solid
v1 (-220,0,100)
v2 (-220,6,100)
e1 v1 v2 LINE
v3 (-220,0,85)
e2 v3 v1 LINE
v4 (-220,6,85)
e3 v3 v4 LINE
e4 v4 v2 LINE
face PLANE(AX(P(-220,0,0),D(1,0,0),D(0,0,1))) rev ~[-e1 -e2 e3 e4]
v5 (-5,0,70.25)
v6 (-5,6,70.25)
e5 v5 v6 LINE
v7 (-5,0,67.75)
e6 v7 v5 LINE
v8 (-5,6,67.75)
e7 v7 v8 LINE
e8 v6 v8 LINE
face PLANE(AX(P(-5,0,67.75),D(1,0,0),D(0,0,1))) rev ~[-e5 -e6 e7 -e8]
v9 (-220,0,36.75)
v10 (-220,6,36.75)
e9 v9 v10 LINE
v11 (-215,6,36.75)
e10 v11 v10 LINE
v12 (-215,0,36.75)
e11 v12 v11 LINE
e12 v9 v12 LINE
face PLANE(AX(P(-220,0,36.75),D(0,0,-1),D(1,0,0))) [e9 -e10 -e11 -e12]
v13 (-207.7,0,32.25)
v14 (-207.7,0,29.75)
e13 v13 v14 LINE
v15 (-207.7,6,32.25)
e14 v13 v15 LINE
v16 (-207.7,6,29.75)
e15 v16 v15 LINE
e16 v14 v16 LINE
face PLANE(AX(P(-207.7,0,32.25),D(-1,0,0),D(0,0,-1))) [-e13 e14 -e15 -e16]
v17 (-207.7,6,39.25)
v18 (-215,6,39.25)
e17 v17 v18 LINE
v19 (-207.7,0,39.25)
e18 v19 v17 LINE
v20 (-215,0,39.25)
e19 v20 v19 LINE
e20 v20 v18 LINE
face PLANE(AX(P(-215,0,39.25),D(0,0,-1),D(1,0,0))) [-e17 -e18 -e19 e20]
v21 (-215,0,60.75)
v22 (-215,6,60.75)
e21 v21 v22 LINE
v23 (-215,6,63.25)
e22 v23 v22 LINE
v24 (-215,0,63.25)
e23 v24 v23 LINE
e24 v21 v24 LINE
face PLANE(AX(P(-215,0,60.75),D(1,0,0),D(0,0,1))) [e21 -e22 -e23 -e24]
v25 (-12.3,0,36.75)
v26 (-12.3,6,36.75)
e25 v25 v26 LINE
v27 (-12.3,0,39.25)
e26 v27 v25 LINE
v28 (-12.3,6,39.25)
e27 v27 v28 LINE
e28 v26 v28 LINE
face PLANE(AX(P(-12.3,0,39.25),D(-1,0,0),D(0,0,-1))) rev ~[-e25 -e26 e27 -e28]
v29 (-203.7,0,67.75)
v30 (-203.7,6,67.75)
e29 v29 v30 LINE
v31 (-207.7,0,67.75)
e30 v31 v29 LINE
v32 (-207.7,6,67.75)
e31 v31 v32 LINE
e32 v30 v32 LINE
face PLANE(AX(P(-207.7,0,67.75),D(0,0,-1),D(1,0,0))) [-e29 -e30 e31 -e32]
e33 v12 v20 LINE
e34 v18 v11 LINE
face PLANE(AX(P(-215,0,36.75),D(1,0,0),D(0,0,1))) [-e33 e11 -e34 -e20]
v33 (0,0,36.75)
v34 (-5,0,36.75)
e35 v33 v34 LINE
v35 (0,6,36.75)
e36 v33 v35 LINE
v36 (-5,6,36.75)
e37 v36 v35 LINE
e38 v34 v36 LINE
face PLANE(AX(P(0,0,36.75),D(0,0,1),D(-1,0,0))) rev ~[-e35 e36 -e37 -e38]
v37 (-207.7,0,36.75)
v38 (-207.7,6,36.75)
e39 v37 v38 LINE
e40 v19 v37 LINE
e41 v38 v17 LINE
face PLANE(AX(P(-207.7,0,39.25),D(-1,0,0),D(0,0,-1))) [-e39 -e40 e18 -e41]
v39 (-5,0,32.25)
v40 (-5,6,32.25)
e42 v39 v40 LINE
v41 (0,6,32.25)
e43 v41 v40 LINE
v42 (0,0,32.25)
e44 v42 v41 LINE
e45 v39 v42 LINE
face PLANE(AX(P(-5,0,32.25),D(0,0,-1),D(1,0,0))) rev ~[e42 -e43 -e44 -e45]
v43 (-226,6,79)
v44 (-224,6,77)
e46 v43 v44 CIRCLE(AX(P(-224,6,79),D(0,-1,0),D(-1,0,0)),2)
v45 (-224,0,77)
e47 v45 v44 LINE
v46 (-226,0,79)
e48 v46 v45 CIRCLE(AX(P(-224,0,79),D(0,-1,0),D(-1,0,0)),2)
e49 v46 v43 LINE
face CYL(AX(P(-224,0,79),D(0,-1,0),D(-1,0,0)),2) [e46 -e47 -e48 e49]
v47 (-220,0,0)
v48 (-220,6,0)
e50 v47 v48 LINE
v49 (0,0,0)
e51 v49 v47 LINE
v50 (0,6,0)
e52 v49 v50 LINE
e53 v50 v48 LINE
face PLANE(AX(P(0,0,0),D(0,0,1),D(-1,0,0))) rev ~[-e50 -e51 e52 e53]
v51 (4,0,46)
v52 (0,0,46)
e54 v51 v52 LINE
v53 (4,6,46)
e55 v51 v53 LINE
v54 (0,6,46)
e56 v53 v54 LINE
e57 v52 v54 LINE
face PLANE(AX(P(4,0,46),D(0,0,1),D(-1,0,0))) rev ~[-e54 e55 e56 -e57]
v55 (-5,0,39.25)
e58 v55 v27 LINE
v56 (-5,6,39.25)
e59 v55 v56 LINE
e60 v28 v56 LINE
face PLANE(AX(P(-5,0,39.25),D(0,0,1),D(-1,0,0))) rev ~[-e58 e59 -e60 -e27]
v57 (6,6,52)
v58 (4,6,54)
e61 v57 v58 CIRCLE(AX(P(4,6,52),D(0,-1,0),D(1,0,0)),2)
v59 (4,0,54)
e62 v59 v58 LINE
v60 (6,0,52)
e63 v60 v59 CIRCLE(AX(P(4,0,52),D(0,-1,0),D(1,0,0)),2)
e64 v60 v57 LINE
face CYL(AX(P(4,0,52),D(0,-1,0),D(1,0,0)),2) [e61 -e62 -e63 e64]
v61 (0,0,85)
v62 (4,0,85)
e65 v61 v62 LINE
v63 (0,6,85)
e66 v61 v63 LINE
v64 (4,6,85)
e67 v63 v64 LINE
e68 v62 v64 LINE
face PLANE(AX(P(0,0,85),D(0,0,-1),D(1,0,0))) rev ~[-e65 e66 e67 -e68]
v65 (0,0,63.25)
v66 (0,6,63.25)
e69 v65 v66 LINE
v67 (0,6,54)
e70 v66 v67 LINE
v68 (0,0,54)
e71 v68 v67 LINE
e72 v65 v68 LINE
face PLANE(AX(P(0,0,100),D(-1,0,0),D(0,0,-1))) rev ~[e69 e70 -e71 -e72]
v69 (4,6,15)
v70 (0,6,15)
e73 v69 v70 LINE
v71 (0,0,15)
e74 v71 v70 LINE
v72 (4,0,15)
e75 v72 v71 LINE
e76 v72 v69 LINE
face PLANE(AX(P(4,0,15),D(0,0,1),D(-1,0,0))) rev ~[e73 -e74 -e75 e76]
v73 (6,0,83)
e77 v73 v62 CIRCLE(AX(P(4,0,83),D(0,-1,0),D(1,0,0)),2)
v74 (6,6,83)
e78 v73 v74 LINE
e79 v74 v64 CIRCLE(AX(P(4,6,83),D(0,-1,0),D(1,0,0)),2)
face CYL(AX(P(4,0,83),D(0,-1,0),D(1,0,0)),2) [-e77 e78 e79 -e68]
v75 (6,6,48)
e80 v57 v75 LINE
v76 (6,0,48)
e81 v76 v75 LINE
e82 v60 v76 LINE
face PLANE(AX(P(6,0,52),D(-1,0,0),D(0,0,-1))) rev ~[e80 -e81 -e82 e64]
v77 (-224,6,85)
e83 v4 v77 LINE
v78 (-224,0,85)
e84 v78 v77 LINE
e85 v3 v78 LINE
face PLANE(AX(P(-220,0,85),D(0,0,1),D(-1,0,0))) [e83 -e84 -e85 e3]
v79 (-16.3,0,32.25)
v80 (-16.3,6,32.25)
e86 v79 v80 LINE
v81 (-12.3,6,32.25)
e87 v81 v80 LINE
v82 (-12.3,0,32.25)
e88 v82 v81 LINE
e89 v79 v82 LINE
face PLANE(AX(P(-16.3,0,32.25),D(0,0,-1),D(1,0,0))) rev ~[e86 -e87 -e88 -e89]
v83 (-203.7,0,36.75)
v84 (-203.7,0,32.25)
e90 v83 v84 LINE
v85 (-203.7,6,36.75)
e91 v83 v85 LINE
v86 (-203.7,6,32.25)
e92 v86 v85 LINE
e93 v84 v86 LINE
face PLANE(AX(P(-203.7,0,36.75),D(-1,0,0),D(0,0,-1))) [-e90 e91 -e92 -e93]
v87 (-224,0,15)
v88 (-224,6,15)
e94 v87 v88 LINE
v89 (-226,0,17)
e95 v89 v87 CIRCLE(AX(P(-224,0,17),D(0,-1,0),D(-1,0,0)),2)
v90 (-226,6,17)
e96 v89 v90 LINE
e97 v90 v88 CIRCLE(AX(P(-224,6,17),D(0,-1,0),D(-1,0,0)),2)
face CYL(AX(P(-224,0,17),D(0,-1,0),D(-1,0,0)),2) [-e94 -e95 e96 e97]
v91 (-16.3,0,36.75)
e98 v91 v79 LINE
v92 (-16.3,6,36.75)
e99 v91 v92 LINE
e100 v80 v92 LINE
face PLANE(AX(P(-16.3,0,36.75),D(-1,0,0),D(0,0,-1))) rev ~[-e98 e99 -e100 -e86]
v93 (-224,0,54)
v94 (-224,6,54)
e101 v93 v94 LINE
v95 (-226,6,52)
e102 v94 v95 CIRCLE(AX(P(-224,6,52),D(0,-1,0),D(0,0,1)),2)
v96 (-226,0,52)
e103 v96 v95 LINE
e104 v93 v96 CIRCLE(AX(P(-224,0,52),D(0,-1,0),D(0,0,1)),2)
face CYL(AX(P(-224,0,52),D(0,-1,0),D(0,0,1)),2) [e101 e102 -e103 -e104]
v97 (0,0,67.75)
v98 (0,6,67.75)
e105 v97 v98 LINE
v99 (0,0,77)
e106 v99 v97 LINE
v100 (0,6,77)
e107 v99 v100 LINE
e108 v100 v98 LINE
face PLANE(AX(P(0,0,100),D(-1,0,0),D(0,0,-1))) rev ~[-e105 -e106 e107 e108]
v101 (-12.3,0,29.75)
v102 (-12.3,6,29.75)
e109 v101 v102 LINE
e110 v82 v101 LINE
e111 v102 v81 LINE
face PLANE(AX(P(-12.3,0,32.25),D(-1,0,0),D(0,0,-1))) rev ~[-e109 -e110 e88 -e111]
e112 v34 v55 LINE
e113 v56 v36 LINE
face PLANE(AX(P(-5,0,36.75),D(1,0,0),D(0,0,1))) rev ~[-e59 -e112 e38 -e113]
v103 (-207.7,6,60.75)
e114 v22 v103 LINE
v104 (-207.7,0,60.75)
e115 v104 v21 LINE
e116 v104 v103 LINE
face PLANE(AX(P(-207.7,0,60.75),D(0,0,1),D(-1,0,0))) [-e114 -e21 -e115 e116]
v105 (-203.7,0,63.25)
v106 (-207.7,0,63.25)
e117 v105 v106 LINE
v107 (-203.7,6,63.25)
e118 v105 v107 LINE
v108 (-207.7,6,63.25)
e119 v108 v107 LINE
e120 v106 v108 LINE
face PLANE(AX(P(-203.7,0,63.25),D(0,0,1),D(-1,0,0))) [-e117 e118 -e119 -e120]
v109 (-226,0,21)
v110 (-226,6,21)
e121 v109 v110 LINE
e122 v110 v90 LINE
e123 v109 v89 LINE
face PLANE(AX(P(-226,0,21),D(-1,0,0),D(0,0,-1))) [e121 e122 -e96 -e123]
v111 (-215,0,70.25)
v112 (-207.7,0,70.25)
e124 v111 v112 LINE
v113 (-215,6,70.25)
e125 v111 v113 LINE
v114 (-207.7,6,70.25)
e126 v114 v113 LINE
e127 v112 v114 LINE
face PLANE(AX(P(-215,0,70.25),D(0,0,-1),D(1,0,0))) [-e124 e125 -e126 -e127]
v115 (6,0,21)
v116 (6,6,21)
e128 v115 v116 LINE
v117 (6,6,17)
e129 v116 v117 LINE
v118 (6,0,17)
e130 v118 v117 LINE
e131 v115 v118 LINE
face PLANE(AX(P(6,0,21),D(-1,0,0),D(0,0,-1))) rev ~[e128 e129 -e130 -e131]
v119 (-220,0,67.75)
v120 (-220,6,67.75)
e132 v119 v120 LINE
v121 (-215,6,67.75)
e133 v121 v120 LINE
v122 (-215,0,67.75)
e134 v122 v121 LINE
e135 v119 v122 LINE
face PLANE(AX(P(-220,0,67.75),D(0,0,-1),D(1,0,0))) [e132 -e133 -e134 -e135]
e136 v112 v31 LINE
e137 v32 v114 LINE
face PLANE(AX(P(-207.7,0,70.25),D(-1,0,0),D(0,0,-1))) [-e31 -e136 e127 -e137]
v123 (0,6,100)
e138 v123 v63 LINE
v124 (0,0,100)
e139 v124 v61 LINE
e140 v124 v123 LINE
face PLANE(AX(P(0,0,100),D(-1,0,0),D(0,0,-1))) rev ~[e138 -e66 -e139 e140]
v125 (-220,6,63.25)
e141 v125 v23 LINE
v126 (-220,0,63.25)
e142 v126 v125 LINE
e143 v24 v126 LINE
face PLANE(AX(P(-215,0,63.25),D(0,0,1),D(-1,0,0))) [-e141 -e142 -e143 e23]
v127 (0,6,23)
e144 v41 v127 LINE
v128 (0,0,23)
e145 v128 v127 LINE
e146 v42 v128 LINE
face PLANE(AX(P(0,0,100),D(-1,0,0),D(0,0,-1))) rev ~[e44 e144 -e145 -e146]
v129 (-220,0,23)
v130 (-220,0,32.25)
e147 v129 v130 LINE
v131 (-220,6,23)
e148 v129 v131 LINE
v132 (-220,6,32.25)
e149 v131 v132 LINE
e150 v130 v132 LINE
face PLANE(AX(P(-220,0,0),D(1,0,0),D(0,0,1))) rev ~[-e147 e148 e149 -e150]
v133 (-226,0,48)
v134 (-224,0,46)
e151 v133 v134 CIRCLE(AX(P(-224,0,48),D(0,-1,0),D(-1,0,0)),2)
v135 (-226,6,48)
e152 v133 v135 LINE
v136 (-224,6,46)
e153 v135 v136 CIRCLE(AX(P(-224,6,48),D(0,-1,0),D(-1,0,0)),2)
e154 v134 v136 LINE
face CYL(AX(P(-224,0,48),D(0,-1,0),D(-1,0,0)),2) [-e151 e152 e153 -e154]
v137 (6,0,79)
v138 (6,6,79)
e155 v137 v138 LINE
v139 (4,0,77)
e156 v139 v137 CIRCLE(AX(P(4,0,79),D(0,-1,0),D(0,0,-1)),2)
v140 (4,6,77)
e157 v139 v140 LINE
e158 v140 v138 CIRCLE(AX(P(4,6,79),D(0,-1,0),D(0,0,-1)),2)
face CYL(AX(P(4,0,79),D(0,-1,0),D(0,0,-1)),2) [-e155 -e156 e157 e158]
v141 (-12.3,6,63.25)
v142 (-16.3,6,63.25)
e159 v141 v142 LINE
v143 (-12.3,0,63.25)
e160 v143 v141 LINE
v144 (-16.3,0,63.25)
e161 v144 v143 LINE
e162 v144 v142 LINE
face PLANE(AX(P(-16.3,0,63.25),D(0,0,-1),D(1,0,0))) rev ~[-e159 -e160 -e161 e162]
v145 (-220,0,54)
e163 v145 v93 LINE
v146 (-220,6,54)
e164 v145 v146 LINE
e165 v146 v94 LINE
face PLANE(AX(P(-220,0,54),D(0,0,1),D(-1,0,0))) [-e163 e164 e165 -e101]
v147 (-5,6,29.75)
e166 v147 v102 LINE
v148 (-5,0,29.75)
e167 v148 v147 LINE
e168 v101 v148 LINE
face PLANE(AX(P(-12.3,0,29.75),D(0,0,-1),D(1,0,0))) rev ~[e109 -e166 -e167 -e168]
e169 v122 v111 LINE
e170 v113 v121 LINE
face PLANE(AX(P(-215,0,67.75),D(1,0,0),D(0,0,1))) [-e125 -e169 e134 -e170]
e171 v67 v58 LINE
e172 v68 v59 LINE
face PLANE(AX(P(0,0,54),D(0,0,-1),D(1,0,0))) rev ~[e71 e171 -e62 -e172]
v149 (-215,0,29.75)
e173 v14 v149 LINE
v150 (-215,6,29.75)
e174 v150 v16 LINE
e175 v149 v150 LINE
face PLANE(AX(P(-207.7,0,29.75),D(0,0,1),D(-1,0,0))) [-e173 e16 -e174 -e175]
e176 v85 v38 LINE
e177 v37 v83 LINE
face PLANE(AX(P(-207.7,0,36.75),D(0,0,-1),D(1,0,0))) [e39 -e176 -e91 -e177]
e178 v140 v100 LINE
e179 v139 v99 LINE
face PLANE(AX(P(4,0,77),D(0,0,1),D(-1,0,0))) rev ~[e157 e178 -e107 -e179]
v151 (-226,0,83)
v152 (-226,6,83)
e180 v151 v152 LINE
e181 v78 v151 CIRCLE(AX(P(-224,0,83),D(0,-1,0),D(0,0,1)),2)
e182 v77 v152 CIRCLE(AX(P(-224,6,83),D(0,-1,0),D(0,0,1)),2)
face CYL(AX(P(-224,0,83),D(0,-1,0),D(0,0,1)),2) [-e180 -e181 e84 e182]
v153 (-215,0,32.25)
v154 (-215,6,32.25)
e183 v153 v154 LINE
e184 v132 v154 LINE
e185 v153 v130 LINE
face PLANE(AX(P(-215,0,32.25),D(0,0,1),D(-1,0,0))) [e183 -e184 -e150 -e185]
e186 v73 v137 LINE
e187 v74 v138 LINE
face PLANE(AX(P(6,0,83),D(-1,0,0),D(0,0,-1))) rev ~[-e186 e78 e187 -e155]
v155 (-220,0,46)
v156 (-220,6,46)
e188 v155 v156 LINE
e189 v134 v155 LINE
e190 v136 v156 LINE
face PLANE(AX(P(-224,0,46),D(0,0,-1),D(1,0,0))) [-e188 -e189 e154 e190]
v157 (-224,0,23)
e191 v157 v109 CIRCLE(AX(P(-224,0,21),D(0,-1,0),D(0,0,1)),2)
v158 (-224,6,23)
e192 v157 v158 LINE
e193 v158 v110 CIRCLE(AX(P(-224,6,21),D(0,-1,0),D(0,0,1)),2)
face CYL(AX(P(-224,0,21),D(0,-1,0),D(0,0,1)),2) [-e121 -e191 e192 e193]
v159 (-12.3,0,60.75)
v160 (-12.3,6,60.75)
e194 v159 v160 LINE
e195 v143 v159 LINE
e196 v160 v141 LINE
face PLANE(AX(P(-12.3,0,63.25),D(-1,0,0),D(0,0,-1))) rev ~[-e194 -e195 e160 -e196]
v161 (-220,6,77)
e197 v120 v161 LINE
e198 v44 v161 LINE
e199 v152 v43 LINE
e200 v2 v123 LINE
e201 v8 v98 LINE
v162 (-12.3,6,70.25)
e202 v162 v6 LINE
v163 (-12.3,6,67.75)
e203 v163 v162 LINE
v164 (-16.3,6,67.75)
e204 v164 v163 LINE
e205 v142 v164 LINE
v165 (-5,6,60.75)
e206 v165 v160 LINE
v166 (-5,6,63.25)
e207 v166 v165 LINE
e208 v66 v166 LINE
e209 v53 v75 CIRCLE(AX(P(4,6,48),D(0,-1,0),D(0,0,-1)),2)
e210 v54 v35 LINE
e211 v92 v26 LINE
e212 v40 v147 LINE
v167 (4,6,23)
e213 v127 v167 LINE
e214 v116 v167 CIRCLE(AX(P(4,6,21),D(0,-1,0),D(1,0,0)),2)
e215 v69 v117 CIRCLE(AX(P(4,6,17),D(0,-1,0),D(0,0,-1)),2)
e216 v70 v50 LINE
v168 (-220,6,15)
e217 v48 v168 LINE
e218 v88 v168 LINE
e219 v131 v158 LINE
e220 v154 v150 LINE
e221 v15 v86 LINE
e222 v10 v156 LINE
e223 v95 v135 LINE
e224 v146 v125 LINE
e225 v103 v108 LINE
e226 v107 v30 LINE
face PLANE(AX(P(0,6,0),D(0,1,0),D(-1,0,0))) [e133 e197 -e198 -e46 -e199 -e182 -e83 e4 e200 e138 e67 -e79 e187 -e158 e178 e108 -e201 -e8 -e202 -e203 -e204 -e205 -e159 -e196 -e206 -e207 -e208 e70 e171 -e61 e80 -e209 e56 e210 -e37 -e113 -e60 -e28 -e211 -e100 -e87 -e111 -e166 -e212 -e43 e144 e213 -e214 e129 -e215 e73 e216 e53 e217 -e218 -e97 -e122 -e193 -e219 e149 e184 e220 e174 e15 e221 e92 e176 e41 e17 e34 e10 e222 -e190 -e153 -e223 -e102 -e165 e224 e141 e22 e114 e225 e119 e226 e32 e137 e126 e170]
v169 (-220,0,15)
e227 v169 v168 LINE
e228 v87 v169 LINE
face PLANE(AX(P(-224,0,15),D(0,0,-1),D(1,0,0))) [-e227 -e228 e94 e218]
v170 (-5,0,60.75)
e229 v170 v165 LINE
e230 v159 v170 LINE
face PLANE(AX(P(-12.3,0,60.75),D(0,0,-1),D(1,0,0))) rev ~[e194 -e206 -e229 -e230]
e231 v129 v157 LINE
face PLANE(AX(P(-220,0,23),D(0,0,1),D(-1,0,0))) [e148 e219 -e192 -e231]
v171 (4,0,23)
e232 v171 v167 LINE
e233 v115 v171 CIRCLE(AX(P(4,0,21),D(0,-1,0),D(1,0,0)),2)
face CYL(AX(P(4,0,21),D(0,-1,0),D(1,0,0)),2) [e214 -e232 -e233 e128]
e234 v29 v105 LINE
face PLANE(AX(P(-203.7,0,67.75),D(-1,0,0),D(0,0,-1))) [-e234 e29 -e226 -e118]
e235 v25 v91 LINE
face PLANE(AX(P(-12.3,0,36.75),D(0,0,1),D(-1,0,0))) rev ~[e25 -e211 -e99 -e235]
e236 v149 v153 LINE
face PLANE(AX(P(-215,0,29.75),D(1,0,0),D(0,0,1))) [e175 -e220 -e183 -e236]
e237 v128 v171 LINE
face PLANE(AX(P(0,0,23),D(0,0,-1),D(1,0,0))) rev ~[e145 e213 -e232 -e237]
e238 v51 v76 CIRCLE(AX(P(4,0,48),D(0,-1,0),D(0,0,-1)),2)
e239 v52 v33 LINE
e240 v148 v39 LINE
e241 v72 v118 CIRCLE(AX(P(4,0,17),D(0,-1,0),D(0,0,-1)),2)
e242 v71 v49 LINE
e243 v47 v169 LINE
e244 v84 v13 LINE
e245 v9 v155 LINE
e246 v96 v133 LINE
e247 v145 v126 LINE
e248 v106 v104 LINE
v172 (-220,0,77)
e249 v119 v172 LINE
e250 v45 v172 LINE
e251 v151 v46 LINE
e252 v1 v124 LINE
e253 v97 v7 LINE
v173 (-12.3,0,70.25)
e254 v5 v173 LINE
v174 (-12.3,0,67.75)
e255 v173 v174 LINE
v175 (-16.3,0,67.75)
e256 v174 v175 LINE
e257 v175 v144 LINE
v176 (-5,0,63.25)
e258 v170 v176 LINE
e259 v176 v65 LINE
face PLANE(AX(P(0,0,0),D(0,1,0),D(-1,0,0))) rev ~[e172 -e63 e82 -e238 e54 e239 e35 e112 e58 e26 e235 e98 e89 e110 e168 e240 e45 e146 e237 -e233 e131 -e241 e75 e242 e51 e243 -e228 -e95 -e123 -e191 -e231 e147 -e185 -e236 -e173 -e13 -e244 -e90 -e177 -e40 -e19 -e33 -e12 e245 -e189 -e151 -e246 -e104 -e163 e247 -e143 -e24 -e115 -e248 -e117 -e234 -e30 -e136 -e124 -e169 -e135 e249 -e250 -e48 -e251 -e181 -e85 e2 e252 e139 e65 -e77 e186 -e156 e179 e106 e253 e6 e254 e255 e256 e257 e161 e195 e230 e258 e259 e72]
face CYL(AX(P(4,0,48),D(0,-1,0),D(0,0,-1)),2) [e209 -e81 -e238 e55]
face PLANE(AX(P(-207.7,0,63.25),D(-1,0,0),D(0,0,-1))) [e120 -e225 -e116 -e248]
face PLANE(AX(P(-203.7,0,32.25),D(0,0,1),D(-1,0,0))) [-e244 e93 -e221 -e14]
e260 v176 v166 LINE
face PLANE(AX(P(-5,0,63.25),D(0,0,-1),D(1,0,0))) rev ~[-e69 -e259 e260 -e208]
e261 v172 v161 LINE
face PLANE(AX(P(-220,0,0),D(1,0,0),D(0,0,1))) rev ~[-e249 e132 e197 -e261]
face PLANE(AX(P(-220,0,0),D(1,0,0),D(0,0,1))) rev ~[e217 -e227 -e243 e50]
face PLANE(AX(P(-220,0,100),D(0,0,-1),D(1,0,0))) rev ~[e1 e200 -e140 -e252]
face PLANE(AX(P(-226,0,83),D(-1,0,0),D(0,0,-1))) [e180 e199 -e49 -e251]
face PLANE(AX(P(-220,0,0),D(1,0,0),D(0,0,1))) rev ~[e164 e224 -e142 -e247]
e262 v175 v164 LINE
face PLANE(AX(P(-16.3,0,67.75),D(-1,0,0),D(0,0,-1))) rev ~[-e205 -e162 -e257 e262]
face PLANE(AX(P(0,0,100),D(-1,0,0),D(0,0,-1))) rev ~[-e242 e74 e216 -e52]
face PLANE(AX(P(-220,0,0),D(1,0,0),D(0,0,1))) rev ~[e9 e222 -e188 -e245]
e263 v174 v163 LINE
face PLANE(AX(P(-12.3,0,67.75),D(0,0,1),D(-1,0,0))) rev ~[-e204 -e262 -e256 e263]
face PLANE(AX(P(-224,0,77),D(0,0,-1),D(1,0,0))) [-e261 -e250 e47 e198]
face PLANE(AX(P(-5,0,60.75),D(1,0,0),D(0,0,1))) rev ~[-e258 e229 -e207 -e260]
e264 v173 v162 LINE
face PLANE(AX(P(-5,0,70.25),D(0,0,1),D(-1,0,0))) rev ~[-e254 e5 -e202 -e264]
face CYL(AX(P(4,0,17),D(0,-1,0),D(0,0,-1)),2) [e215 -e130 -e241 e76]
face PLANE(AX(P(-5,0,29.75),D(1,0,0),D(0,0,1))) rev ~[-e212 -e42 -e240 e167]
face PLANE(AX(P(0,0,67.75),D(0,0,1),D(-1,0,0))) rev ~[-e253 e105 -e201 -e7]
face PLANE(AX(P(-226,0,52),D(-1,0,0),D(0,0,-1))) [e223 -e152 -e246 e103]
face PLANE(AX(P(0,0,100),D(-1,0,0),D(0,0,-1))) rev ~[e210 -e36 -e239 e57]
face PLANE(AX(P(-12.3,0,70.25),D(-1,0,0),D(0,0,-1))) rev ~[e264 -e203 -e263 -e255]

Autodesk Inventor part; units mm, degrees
ref_plane "YZ Plane" through (0, 0, 0) normal (1, 0, 0) x (0, 1, 0)
ref_plane "XZ Plane" through (0, 0, 0) normal (0, 1, 0) x (-1, 0, 0)
ref_plane "XY Plane" through (0, 0, 0) normal (0, 0, 1) x (1, 0, 0)
sketch "Sketch1" plane through (0, 0, 0) normal (0, 1, 0) x (-1, 0, 0)
  line L0 (0, 0) -> (220, 0)
  line L1 (220, 0) -> (220, 100)
  line L2 (220, 100) -> (0, 100)
  line L3 (0, 100) -> (0, 0)
  dimension "d11" = 220
  dimension "d16" = 100
extrude "Extrusion3" add sketch "Sketch1" along normal blind 6
sketch "Sketch3" plane through (0, 0, 0) normal (0, -1, 0) x (1, 0, 0)
  line L0 (0, 100) -> (0, 0) projected
  line L1 (-220, 0) -> (-220, 100) projected
  line L2 (-220, 85) -> (-224, 85)
  line L3 (-226, 83) -> (-226, 79)
  line L4 (-224, 77) -> (-220, 77)
  line L5 (-220, 77) -> (-220, 85)
  line L6 (-220, 54) -> (-224, 54)
  line L7 (-226, 52) -> (-226, 48)
  line L8 (-224, 46) -> (-220, 46)
  line L9 (-220, 46) -> (-220, 54)
  line L10 (-220, 23) -> (-224, 23)
  line L11 (-226, 21) -> (-226, 17)
  line L12 (-224, 15) -> (-220, 15)
  line L13 (-220, 15) -> (-220, 23)
  line L14 (0, 85) -> (4, 85)
  line L15 (6, 83) -> (6, 79)
  line L16 (4, 77) -> (0, 77)
  line L17 (0, 77) -> (0, 85)
  line L18 (0, 54) -> (4, 54)
  line L19 (6, 52) -> (6, 48)
  line L20 (4, 46) -> (0, 46)
  line L21 (0, 46) -> (0, 54)
  line L22 (0, 23) -> (4, 23)
  line L23 (6, 21) -> (6, 17)
  line L24 (4, 15) -> (0, 15)
  line L25 (0, 15) -> (0, 23)
  arc A0 (-224, 85) -> (-226, 83) centre (-224, 83) ccw
  arc A1 (-226, 79) -> (-224, 77) centre (-224, 79) ccw
  arc A2 (-224, 54) -> (-226, 52) centre (-224, 52) ccw
  arc A3 (-226, 48) -> (-224, 46) centre (-224, 48) ccw
  arc A4 (-224, 23) -> (-226, 21) centre (-224, 21) ccw
  arc A5 (-226, 17) -> (-224, 15) centre (-224, 17) ccw
  arc A6 (6, 83) -> (4, 85) centre (4, 83) ccw
  arc A7 (4, 77) -> (6, 79) centre (4, 79) ccw
  arc A8 (6, 52) -> (4, 54) centre (4, 52) ccw
  arc A9 (4, 46) -> (6, 48) centre (4, 48) ccw
  arc A10 (6, 21) -> (4, 23) centre (4, 21) ccw
  arc A11 (4, 15) -> (6, 17) centre (4, 17) ccw
  line L26 (-222, 77) -> (-222, 54) construction
  line L27 (-222, 23) -> (-222, 46) construction
  point P0 (-226, 50)
  point P1 (-220, 50)
  dimension "d35" = 2
  dimension "d36" = 8
  dimension "d37" = 6
  dimension "d38" = 8
  dimension "d39" = 8
  dimension "d40" = 8
  dimension "d41" = 8
  dimension "d42" = 8
  dimension "d43" = 6
  dimension "d44" = 23
extrude "Extrusion4" add sketch "Sketch3" against normal blind 6
sketch "Sketch4" plane through (0, 0, 0) normal (0, -1, 0) x (1, 0, 0)
  line L0 (0, 0) -> (-220, 0) projected
  line L1 (-220, 100) -> (0, 100) projected
  line L2 (-220, 54) -> (-220, 77) projected
  line L3 (-220, 23) -> (-220, 46) projected
  line L4 (-203.7, 67.75) -> (-203.7, 63.25)
  line L5 (-220, 63.25) -> (-220, 67.75)
  line L6 (-215, 70.25) -> (-207.7, 70.25)
  line L7 (-207.7, 60.75) -> (-215, 60.75)
  line L8 (-220, 67.75) -> (-215, 67.75)
  line L9 (-207.7, 67.75) -> (-203.7, 67.75)
  line L10 (-203.7, 63.25) -> (-207.7, 63.25)
  line L11 (-215, 63.25) -> (-220, 63.25)
  line L12 (-215, 60.75) -> (-215, 63.25)
  line L13 (-215, 67.75) -> (-215, 70.25)
  line L14 (-207.7, 70.25) -> (-207.7, 67.75)
  line L15 (-207.7, 63.25) -> (-207.7, 60.75)
  line L16 (-203.7, 36.75) -> (-203.7, 32.25)
  line L17 (-220, 32.25) -> (-220, 36.75)
  line L18 (-215, 39.25) -> (-207.7, 39.25)
  line L19 (-207.7, 29.75) -> (-215, 29.75)
  line L20 (-220, 36.75) -> (-215, 36.75)
  line L21 (-207.7, 36.75) -> (-203.7, 36.75)
  line L22 (-203.7, 32.25) -> (-207.7, 32.25)
  line L23 (-215, 32.25) -> (-220, 32.25)
  line L24 (-215, 29.75) -> (-215, 32.25)
  line L25 (-215, 36.75) -> (-215, 39.25)
  line L26 (-207.7, 39.25) -> (-207.7, 36.75)
  line L27 (-207.7, 32.25) -> (-207.7, 29.75)
  line L28 (-110, 100) -> (-110, 0) construction
  line L29 (-16.3, 67.75) -> (-16.3, 63.25)
  line L30 (0, 63.25) -> (0, 67.75)
  line L31 (-5, 70.25) -> (-12.3, 70.25)
  line L32 (-12.3, 60.75) -> (-5, 60.75)
  line L33 (0, 67.75) -> (-5, 67.75)
  line L34 (-12.3, 67.75) -> (-16.3, 67.75)
  line L35 (-16.3, 63.25) -> (-12.3, 63.25)
  line L36 (-5, 63.25) -> (0, 63.25)
  line L37 (-5, 60.75) -> (-5, 63.25)
  line L38 (-5, 67.75) -> (-5, 70.25)
  line L39 (-12.3, 70.25) -> (-12.3, 67.75)
  line L40 (-12.3, 63.25) -> (-12.3, 60.75)
  line L41 (0, 36.75) -> (-5, 36.75)
  line L42 (-16.3, 36.75) -> (-16.3, 32.25)
  line L43 (-16.3, 32.25) -> (-12.3, 32.25)
  line L44 (-12.3, 32.25) -> (-12.3, 29.75)
  line L45 (-12.3, 39.25) -> (-12.3, 36.75)
  line L46 (-12.3, 29.75) -> (-5, 29.75)
  line L47 (-5, 29.75) -> (-5, 32.25)
  line L48 (-5, 36.75) -> (-5, 39.25)
  line L49 (-5, 39.25) -> (-12.3, 39.25)
  line L50 (-5, 32.25) -> (0, 32.25)
  line L51 (0, 32.25) -> (0, 36.75)
  line L52 (-12.3, 36.75) -> (-16.3, 36.75)
  point P0 (-220, 65.5)
  point P1 (-220, 34.5)
  point P2 (0, 65.5)
  point P3 (0, 34.5)
  dimension "d47" = 4.5
  dimension "d48" = 2.5
  dimension "d49" = 2.5
  dimension "d50" = 5
  dimension "d51" = 4
  dimension "d52" = 7.3
  dimension "d53" = 4.5
  dimension "d54" = 2.5
  dimension "d55" = 2.5
  dimension "d56" = 5
  dimension "d57" = 4
  dimension "d58" = 7.3
extrude "Extrusion5" cut sketch "Sketch4" against normal through all
equation "\"d38\" = d36"
equation "\"d39\" = d38"
equation "\"d40\" = d36"
equation "\"d41\" = d40"
equation "\"d42\" = d41"
equation "\"d43\" = d37"
equation "\"d49\" = d48"
equation "\"d55\" = d54"
properties part number "front_panel_2004_bottom"
